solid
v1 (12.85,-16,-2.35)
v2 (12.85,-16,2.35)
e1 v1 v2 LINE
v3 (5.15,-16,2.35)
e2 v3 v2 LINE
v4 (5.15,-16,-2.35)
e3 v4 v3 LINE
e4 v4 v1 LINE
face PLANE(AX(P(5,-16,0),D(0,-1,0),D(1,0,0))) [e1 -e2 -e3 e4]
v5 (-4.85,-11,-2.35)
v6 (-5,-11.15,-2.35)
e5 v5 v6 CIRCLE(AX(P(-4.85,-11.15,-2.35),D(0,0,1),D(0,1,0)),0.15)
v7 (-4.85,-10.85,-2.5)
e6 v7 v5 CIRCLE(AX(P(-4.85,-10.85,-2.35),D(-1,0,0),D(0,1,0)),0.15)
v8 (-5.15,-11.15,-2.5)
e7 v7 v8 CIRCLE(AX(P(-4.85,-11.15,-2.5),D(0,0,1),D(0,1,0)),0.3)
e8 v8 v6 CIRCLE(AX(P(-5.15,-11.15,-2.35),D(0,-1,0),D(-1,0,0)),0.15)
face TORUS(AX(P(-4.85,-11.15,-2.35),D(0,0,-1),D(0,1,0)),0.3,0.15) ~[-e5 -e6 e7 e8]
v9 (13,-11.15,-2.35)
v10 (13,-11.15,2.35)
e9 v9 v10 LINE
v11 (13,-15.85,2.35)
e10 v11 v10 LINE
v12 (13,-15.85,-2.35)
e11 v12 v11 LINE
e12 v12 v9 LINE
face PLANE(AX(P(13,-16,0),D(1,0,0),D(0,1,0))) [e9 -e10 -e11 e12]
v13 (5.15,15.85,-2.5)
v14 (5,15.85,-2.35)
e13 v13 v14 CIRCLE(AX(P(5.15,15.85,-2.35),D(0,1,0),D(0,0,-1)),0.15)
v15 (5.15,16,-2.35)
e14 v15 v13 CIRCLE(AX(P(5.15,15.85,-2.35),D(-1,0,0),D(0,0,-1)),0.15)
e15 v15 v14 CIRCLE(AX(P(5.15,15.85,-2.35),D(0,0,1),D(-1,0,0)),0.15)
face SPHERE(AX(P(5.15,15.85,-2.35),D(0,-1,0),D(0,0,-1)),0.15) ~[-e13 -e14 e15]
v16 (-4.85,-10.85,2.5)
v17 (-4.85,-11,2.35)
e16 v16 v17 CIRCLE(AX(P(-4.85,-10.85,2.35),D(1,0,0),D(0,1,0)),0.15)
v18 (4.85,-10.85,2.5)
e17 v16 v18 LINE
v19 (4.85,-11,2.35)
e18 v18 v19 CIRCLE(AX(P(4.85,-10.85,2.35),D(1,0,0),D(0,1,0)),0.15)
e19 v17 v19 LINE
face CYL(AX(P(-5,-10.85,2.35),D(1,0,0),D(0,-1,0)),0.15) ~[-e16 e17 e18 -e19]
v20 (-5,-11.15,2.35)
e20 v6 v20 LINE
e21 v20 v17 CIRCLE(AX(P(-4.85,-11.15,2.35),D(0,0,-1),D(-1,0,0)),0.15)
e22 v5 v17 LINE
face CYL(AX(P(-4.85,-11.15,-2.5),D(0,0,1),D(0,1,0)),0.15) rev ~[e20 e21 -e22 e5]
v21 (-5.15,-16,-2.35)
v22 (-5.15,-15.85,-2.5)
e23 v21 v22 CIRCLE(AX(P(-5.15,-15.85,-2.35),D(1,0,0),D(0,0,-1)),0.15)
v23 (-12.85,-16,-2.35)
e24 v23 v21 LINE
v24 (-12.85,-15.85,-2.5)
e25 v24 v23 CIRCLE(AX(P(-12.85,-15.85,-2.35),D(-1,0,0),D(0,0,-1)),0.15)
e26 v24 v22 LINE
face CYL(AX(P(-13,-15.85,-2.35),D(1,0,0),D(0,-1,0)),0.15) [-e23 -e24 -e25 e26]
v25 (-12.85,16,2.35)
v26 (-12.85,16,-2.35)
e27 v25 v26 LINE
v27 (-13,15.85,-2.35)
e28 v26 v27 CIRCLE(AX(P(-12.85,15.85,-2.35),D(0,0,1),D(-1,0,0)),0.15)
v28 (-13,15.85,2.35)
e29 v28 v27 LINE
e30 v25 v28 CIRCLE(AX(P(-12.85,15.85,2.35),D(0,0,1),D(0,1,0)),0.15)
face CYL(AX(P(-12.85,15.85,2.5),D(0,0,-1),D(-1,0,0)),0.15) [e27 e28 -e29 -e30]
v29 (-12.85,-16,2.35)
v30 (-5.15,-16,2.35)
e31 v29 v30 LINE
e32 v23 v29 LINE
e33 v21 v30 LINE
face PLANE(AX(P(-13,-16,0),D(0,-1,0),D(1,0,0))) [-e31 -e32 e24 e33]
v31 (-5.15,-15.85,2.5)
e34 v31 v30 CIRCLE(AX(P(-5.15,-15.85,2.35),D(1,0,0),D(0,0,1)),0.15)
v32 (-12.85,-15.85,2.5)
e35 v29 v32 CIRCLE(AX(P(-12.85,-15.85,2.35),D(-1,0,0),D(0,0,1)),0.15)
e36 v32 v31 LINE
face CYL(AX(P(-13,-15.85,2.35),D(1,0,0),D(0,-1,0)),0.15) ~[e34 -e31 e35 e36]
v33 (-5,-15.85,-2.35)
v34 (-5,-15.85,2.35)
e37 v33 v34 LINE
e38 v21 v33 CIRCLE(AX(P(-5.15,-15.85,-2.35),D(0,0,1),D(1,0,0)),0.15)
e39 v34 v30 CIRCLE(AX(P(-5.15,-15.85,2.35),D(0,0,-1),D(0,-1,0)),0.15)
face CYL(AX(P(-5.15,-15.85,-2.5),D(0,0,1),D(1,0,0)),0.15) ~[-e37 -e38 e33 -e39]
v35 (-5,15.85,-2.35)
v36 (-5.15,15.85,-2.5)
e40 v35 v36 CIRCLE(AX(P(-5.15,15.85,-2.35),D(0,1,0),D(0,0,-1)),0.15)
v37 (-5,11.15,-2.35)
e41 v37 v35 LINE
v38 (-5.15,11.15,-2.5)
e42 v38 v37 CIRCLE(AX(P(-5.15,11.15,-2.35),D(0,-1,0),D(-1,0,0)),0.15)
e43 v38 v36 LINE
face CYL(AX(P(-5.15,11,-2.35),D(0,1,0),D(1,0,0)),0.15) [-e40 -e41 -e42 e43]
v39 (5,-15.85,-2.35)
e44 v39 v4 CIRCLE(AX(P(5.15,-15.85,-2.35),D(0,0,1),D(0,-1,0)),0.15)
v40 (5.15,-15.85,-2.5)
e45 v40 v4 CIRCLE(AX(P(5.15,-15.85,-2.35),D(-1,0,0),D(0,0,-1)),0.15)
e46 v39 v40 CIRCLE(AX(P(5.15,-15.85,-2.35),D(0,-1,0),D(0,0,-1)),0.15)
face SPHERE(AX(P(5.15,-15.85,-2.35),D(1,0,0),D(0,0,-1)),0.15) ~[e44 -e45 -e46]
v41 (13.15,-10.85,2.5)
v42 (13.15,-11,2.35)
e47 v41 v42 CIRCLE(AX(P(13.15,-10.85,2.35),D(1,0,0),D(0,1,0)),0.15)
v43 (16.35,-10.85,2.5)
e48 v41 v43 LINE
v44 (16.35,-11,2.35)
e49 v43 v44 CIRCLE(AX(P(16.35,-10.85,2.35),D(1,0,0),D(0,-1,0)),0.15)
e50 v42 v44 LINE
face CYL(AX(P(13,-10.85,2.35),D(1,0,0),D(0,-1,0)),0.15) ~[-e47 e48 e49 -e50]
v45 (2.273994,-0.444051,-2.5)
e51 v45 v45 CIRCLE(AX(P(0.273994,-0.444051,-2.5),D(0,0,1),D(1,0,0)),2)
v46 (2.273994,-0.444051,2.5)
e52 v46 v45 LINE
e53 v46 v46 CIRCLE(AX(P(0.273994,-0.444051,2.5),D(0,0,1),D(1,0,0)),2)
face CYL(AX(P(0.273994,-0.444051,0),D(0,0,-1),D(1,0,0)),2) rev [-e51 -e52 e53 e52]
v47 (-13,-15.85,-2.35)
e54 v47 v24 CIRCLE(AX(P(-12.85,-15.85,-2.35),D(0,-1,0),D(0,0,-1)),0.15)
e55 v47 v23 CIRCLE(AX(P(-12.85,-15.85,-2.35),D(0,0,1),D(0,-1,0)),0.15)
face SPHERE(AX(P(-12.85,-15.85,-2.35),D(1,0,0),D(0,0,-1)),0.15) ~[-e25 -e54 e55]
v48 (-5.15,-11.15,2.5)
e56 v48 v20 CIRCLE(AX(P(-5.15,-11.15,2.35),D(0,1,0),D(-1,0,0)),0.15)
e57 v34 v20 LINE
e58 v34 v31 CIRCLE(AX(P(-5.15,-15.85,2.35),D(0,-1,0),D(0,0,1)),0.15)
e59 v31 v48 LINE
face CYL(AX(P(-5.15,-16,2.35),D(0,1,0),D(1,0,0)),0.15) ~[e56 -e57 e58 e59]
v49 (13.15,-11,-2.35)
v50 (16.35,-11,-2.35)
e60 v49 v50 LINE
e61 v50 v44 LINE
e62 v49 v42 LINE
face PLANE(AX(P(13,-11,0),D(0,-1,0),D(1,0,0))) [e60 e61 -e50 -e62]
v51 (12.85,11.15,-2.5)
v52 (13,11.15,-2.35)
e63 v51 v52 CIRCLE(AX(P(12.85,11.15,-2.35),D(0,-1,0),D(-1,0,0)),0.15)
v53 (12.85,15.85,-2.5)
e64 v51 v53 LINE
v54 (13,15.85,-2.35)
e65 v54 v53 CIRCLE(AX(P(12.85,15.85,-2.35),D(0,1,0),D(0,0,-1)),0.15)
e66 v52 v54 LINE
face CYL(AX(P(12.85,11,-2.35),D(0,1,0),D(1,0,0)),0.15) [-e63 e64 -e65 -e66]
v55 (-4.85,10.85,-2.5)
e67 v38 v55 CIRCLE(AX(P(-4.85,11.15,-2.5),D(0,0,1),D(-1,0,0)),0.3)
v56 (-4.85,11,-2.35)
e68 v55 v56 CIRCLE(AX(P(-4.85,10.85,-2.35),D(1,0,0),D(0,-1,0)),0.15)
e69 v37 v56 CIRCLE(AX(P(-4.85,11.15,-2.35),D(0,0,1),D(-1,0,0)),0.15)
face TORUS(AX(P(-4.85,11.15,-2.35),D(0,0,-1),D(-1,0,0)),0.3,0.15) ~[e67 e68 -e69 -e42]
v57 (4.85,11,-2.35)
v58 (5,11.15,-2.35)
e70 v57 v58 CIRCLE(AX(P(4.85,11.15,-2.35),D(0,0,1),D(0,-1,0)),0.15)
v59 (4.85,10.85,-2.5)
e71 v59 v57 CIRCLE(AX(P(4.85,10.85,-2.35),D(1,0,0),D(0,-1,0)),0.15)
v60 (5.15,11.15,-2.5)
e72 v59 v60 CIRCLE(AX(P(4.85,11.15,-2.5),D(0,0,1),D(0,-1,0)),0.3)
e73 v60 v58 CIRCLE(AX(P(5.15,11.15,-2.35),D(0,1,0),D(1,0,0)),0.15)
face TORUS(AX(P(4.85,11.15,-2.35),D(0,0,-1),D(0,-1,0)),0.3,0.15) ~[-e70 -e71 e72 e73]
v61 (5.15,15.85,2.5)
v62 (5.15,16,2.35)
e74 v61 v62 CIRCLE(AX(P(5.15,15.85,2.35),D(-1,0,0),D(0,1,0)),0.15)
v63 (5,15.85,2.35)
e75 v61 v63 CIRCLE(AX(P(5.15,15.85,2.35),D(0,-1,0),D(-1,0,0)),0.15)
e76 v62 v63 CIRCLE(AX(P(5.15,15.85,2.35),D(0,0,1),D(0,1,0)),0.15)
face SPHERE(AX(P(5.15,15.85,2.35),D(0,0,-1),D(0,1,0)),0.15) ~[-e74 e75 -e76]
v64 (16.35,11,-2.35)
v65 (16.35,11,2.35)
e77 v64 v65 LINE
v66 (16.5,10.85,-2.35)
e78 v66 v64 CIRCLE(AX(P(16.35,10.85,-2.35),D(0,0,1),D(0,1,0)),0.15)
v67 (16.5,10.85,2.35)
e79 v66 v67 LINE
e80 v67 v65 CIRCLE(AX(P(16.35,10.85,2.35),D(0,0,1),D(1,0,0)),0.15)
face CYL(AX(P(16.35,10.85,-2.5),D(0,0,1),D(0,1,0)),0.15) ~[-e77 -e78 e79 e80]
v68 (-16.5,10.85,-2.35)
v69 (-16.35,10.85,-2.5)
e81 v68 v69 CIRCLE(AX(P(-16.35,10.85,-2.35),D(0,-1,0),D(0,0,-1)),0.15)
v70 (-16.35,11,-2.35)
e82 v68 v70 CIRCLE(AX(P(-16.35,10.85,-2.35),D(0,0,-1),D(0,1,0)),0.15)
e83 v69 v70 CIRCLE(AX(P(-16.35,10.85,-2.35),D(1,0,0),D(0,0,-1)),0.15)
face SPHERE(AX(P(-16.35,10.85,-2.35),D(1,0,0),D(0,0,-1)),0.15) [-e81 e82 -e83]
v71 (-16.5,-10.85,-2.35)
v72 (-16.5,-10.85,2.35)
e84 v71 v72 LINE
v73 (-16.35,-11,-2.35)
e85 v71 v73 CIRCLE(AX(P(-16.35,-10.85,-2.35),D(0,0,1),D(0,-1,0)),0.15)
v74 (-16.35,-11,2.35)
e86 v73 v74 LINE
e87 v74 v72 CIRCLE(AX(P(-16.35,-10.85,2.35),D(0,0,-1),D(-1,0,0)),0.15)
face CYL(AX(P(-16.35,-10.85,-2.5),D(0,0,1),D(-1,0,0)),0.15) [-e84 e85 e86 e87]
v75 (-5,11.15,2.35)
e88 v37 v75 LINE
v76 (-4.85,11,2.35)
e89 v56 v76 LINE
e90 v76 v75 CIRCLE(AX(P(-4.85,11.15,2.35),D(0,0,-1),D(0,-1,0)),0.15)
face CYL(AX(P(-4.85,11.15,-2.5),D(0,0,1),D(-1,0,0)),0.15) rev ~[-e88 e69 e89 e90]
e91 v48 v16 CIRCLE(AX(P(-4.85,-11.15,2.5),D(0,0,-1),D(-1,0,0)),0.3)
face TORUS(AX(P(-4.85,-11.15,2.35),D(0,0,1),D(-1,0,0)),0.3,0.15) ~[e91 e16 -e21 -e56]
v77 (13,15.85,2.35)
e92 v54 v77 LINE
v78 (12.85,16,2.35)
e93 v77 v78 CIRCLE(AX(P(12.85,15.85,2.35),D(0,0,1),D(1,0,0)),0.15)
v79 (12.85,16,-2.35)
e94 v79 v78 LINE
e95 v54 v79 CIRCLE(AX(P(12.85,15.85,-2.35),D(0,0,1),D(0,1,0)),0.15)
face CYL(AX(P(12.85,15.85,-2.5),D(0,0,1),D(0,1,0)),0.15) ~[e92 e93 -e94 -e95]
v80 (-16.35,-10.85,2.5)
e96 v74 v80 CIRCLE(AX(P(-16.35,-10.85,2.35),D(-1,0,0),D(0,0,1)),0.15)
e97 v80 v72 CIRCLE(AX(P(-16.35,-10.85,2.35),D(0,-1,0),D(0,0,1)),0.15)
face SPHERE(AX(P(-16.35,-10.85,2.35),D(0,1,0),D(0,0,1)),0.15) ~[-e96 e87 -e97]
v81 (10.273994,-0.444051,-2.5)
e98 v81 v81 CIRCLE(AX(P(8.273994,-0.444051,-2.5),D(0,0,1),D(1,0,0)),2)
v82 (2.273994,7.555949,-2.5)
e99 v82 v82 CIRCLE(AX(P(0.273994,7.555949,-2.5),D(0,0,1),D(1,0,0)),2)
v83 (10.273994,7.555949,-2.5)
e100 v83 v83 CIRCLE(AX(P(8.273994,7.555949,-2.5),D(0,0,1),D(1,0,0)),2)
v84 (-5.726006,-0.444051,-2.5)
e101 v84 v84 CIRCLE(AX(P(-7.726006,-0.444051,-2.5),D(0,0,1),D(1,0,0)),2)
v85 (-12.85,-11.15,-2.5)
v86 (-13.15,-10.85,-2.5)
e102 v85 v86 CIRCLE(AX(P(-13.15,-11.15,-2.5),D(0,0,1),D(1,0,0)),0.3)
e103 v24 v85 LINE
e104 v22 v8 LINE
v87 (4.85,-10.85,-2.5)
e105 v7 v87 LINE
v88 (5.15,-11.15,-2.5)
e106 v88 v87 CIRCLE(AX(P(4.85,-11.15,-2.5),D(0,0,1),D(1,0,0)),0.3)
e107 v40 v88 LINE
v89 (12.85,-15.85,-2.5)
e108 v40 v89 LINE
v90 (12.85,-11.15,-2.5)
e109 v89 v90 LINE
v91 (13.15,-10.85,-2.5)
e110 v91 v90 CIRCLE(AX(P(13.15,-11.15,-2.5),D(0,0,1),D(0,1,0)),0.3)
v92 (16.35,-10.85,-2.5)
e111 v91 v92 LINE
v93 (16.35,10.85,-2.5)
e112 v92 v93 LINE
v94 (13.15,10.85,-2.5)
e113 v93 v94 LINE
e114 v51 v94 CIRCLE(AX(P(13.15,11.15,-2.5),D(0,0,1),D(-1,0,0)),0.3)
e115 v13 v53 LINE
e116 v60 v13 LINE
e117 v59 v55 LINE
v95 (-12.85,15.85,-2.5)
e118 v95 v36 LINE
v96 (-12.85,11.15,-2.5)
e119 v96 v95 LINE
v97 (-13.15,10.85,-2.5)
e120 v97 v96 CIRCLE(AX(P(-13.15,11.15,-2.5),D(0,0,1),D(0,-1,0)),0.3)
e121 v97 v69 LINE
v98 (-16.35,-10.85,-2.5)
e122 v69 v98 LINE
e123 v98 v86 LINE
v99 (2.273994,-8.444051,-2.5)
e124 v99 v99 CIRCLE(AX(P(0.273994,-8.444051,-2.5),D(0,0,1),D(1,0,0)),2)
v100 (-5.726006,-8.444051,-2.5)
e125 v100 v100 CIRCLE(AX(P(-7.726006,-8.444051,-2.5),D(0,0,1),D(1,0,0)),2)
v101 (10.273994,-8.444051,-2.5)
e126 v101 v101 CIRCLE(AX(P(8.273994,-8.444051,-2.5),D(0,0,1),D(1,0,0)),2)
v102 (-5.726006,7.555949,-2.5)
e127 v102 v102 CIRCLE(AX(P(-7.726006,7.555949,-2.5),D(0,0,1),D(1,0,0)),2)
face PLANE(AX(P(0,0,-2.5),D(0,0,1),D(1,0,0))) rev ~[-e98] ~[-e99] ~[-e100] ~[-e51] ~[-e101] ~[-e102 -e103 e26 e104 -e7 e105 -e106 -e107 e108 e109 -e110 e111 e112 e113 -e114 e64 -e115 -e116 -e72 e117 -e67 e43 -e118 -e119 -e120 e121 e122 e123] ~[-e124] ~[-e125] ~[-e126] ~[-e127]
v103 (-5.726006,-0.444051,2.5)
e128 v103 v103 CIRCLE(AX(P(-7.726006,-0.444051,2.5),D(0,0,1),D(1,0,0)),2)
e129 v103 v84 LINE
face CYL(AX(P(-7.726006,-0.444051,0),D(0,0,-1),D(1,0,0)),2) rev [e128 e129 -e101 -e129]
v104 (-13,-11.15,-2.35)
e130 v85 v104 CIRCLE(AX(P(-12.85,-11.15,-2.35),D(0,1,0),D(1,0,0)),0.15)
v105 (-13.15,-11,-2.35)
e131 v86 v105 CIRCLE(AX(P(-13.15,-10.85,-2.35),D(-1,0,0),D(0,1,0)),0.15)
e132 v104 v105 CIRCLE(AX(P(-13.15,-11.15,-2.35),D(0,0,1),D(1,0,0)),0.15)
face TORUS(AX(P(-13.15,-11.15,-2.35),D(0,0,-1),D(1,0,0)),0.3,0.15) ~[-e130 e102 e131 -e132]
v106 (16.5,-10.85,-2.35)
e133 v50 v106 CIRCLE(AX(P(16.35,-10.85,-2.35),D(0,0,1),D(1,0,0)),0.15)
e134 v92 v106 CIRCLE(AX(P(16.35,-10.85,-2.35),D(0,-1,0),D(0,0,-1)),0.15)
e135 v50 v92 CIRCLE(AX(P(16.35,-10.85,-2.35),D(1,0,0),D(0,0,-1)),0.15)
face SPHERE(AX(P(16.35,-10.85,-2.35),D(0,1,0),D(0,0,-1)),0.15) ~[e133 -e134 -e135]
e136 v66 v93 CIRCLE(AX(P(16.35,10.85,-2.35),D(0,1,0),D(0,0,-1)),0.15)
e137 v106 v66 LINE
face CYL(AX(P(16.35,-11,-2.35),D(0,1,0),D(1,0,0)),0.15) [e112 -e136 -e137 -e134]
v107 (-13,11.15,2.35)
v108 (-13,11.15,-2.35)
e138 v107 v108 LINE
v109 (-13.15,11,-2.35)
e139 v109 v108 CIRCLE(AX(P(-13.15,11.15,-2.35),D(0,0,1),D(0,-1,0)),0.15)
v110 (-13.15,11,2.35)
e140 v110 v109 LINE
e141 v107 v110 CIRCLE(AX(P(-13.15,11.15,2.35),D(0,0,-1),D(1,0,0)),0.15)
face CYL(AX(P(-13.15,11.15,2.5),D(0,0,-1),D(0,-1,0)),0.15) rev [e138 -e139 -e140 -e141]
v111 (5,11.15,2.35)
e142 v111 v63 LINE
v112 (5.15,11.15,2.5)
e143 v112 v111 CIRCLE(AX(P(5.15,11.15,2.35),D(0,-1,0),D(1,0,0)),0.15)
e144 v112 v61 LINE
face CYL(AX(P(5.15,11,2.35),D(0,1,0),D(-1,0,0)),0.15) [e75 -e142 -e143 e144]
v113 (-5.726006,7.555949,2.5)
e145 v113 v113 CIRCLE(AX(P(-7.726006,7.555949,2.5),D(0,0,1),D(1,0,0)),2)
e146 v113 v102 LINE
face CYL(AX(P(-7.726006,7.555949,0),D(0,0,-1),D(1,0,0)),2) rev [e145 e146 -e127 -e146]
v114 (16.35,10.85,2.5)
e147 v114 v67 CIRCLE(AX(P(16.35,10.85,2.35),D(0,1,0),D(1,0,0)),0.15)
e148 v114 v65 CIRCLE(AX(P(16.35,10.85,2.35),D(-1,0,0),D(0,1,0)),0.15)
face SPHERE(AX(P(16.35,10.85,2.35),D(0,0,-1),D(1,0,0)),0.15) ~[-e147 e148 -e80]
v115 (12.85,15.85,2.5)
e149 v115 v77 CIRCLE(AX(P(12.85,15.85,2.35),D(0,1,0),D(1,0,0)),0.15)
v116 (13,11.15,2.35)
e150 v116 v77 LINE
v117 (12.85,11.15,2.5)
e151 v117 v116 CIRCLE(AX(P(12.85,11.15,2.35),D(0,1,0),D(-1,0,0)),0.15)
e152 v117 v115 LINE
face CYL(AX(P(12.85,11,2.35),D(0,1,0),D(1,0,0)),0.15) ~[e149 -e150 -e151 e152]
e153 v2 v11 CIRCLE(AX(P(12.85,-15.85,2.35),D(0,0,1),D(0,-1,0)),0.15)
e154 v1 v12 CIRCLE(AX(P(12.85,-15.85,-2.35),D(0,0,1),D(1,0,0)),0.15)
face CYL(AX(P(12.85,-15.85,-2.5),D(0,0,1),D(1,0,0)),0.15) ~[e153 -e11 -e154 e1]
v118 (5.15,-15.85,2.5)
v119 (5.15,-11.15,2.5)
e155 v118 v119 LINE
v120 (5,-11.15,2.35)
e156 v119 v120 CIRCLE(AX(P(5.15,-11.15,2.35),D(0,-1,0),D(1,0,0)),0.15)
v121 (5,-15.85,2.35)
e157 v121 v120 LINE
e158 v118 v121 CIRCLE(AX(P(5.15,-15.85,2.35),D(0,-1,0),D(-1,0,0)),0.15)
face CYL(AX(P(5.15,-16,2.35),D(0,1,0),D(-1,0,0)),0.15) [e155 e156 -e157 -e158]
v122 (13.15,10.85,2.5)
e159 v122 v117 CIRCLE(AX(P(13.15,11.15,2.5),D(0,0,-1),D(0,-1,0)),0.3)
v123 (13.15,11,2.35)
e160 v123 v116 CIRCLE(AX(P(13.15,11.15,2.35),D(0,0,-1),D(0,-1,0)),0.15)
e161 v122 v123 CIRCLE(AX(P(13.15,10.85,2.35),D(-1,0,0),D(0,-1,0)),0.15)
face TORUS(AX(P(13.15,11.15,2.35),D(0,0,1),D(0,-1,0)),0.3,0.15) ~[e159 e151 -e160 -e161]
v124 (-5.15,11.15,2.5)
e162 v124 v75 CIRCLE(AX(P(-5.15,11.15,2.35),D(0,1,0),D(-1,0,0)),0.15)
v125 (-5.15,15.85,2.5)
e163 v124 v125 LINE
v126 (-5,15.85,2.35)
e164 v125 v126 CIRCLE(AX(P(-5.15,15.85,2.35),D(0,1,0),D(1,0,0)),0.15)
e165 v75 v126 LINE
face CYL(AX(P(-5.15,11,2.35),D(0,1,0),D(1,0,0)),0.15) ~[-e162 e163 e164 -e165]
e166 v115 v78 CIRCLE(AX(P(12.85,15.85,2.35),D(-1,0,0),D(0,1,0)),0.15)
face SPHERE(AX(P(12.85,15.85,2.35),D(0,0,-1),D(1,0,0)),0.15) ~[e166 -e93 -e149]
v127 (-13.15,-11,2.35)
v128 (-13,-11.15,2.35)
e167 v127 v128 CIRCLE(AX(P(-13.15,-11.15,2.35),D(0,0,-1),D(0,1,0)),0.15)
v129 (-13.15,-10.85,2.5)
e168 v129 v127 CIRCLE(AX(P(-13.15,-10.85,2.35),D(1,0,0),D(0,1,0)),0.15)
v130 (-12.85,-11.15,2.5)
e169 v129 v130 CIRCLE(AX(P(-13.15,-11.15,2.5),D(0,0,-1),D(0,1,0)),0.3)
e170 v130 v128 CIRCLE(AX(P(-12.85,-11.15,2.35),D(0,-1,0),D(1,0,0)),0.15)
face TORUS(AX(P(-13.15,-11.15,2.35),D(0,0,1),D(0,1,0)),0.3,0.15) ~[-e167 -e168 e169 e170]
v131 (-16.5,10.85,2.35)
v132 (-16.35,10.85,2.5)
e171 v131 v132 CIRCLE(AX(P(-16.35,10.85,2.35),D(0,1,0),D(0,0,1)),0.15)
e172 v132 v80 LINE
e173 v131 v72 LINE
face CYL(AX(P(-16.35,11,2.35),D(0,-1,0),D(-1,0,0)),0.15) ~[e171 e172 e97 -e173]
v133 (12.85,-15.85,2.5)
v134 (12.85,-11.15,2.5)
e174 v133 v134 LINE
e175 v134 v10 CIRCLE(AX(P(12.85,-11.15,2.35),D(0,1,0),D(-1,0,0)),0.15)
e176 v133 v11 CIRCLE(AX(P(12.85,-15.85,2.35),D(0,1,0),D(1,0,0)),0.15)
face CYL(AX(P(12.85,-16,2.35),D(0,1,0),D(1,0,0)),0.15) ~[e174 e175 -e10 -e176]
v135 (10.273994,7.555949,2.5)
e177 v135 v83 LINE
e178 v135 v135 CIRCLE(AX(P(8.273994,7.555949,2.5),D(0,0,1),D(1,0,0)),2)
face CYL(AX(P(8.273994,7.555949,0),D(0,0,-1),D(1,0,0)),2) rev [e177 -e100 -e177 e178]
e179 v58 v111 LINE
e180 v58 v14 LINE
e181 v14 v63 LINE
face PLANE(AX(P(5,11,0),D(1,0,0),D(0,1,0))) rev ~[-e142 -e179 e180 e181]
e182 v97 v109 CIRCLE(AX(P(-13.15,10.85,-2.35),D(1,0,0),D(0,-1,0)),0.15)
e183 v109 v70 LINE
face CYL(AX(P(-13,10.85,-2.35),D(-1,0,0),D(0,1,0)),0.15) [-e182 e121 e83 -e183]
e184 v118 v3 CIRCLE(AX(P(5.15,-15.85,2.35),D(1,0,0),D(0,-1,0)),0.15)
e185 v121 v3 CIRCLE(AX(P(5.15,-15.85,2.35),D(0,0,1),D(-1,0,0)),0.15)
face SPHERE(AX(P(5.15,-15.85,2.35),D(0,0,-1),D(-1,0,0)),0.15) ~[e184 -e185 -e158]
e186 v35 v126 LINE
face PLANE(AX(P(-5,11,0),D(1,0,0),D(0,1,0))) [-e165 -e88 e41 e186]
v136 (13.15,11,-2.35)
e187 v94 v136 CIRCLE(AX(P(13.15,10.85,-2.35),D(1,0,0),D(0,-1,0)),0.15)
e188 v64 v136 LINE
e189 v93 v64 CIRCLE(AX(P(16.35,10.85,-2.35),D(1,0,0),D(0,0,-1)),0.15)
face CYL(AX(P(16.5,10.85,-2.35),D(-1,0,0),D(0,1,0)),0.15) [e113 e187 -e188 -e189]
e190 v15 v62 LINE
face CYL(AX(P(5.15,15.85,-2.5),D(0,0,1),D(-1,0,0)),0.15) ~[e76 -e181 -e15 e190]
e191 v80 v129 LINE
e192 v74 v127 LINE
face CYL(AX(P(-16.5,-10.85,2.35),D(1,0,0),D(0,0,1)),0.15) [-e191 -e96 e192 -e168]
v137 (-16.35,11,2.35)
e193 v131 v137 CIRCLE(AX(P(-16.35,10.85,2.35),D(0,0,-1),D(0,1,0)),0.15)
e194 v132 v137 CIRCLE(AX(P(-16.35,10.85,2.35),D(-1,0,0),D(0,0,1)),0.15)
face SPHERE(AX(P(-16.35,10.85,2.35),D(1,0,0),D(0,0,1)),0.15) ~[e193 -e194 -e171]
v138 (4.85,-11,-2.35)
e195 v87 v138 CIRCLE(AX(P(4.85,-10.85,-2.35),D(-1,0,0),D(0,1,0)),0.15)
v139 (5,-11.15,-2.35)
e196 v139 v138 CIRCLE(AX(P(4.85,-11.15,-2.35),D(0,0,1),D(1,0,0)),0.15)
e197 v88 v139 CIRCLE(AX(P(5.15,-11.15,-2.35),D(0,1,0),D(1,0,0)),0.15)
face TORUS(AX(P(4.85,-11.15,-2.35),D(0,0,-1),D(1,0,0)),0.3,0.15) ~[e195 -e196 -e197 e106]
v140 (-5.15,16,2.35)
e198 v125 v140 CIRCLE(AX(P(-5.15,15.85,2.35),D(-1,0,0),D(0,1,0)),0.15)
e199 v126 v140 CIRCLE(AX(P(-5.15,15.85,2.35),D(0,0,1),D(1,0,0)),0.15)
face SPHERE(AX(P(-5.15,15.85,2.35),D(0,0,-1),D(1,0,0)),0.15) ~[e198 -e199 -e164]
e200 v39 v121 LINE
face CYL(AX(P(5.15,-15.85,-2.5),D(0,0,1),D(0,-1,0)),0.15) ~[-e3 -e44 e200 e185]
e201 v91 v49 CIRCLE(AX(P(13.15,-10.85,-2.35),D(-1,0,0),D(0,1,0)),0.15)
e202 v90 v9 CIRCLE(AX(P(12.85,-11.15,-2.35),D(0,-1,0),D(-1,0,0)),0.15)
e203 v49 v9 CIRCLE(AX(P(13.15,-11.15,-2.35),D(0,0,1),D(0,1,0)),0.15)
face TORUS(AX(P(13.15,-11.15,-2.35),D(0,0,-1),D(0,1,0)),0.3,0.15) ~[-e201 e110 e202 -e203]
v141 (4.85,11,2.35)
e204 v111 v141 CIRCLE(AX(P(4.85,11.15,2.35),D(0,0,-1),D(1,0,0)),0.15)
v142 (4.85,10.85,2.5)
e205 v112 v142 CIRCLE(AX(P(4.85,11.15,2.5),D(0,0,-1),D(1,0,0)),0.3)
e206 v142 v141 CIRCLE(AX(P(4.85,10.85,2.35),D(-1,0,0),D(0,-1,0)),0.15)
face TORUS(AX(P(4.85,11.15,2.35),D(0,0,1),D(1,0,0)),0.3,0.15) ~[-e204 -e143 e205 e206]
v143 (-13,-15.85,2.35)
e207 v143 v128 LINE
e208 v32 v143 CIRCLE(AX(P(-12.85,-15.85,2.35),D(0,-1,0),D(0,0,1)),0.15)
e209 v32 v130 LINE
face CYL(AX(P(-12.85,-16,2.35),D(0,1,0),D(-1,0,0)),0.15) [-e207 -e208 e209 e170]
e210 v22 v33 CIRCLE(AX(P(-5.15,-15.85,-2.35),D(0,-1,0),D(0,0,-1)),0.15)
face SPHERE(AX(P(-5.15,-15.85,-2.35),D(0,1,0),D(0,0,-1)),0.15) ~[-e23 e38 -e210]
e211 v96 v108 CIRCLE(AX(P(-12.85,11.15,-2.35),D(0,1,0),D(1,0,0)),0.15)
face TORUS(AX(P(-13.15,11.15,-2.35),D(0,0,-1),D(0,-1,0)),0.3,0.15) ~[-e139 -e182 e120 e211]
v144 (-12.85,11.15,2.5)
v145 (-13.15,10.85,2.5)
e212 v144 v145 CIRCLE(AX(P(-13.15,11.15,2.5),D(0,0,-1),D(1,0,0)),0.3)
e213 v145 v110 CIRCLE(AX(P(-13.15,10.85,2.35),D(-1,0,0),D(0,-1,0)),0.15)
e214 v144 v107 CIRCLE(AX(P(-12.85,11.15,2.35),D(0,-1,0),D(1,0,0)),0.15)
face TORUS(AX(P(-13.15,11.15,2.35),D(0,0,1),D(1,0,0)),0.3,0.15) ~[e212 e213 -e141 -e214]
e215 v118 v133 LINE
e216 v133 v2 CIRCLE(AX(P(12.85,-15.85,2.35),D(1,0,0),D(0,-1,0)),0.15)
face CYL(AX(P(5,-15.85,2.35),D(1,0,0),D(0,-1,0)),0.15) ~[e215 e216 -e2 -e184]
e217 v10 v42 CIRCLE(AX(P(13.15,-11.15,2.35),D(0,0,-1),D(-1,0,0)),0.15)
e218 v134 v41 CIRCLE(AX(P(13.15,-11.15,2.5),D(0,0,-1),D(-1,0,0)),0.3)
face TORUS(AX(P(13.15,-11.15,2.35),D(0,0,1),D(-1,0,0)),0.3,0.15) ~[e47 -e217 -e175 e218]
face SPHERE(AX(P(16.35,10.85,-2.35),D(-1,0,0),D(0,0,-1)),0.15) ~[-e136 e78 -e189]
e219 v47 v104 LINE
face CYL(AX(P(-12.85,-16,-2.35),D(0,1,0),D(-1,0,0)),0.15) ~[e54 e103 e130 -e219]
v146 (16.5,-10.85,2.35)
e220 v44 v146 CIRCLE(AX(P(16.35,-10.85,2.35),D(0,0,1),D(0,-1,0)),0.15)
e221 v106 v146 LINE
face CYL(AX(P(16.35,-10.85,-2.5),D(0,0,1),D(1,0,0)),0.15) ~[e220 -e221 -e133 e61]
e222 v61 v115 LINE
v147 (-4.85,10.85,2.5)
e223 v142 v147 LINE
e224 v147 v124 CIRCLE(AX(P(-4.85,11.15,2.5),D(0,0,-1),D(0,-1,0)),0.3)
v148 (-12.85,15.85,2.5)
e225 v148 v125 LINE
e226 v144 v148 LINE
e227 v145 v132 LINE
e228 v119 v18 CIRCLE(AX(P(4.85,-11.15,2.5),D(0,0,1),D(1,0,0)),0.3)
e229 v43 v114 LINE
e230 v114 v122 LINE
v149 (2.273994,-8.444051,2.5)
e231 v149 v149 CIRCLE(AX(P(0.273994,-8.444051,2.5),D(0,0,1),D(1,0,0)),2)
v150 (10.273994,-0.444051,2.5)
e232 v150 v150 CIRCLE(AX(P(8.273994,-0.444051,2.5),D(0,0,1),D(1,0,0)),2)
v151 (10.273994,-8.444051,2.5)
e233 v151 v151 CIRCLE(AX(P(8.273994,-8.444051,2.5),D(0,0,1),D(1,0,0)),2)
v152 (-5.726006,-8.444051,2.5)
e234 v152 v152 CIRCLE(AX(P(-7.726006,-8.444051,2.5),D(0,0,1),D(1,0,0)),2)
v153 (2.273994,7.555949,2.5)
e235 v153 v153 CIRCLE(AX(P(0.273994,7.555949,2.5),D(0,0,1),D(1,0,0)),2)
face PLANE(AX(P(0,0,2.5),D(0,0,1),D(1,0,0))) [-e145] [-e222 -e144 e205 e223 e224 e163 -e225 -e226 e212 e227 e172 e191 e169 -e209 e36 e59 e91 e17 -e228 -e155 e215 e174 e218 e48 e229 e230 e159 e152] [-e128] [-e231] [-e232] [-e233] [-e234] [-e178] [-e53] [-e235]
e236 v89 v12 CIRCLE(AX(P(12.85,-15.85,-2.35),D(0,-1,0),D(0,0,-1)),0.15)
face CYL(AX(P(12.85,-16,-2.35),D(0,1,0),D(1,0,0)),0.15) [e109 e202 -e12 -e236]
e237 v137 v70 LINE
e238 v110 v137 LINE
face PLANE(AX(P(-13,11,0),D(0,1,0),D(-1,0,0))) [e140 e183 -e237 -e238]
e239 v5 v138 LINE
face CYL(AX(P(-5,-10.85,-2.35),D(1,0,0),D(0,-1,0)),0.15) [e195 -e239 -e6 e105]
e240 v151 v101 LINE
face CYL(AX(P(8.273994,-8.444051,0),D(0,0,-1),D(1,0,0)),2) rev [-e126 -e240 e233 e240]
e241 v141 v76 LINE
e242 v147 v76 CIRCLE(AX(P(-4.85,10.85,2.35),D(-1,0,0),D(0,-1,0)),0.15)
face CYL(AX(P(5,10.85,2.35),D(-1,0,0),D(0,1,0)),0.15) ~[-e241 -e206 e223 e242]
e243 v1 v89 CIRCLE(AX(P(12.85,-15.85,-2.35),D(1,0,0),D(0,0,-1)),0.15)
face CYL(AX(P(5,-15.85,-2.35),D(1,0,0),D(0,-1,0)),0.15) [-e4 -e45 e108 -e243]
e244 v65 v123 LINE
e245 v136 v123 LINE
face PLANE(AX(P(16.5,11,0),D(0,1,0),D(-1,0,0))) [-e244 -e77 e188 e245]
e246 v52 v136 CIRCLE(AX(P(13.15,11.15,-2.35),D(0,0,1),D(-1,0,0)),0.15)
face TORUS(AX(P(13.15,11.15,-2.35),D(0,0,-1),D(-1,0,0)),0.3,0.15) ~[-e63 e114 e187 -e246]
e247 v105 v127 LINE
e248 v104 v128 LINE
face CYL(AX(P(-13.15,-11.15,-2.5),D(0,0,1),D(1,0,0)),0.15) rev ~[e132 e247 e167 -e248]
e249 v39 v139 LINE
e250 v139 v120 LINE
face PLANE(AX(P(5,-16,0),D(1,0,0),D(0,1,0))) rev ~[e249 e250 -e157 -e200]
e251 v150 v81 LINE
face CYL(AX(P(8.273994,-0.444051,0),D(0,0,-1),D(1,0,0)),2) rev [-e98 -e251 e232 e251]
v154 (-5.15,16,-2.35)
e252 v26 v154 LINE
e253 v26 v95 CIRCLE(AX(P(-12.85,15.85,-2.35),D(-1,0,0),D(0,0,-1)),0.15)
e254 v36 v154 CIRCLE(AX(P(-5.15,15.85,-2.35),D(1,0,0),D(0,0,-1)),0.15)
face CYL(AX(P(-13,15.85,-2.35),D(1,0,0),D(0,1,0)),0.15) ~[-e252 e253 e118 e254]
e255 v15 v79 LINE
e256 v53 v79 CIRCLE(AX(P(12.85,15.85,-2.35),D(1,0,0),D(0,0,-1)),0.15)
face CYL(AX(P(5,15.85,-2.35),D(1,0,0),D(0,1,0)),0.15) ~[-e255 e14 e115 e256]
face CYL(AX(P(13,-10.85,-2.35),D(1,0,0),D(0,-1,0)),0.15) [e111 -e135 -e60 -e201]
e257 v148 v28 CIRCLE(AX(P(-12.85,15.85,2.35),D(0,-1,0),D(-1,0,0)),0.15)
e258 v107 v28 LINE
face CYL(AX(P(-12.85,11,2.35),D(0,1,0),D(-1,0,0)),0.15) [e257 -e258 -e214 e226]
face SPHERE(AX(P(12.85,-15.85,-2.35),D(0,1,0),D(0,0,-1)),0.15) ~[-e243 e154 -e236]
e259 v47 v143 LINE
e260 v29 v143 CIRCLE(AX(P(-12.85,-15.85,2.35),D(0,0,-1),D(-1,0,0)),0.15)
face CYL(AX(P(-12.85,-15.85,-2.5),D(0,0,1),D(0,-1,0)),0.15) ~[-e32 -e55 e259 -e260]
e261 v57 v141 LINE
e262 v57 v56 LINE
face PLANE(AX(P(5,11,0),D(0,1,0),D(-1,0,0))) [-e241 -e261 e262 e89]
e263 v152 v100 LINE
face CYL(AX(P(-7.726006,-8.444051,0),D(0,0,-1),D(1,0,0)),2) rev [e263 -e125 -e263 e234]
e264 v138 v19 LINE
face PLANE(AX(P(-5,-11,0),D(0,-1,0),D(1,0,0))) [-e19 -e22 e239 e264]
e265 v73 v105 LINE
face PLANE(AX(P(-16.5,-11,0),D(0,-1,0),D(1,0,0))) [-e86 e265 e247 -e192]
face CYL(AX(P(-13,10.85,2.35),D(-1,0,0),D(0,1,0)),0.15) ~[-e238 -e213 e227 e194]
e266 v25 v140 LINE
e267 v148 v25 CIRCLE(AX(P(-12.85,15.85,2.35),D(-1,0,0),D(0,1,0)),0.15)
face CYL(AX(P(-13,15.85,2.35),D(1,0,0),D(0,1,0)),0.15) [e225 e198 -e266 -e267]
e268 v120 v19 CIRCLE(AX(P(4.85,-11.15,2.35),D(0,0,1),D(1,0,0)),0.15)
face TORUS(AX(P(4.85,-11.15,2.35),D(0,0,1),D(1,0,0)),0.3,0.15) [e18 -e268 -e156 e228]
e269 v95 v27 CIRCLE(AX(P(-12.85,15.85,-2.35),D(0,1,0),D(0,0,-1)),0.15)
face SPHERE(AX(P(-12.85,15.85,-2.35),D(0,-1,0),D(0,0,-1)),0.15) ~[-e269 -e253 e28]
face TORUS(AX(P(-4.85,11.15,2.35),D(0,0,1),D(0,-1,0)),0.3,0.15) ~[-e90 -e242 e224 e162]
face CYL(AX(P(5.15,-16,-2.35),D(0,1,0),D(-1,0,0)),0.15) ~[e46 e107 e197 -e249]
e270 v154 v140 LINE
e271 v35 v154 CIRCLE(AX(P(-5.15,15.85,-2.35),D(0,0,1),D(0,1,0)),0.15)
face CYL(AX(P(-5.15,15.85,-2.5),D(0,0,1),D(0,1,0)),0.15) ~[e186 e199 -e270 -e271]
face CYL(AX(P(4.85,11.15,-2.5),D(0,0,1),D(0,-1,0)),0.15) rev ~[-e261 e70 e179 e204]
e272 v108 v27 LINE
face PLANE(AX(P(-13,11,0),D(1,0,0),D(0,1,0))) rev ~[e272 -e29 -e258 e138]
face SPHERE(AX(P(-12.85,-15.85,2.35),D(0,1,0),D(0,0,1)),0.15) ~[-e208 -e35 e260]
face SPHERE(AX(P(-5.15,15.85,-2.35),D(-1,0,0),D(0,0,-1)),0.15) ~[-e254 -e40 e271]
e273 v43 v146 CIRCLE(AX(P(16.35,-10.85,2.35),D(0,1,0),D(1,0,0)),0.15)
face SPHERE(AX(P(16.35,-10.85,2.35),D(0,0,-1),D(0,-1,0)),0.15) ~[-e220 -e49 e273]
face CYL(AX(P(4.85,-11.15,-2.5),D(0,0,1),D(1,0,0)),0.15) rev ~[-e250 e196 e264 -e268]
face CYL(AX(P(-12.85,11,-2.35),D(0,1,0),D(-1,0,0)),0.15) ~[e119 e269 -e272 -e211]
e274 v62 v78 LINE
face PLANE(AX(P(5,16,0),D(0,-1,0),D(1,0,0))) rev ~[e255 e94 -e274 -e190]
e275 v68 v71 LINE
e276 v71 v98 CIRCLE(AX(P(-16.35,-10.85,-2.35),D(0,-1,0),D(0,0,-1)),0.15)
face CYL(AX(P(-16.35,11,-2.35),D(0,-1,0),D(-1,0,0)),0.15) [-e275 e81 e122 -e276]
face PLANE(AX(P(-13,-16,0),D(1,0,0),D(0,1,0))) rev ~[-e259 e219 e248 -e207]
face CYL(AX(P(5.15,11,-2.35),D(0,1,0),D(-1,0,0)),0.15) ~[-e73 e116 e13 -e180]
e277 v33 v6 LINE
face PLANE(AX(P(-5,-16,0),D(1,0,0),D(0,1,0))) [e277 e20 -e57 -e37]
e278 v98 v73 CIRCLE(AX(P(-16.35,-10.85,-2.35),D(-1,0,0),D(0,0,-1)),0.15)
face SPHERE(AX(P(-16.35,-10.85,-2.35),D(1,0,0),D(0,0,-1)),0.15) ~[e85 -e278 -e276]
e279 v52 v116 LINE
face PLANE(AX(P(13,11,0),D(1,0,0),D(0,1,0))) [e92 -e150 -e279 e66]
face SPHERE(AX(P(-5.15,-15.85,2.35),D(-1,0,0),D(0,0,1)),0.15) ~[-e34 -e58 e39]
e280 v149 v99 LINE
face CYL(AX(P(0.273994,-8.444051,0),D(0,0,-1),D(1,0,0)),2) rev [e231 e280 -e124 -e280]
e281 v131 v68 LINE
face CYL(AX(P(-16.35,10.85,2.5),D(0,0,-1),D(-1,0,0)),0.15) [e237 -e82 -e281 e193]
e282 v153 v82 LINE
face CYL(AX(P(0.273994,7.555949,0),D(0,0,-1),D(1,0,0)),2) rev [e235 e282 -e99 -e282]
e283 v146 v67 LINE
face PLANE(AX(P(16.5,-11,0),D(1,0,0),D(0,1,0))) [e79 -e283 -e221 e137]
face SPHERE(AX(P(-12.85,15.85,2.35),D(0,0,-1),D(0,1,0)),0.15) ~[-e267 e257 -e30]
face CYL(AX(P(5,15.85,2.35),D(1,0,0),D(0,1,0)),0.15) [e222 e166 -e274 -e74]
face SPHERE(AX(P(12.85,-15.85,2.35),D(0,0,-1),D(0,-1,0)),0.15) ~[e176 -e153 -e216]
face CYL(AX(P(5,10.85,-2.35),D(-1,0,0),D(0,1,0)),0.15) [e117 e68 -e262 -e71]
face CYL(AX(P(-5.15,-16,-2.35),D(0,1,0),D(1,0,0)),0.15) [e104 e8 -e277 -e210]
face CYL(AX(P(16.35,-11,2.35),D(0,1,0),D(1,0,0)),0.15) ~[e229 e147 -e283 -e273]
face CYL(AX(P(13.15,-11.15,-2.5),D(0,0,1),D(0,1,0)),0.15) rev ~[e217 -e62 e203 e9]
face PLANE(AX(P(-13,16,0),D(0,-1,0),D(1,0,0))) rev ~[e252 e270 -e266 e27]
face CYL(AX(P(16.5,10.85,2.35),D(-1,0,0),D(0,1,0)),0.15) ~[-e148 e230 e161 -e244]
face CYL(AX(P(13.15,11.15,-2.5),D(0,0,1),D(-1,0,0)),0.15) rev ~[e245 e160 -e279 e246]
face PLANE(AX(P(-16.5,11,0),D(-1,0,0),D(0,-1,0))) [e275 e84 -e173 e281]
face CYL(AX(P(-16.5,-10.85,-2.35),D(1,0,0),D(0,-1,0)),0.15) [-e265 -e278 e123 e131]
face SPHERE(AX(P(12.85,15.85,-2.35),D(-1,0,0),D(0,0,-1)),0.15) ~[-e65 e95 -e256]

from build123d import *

# Parameters (mm, degrees)
SZKIC1_R                    = 2
SZKIC1_W                    = 8
SZKIC1_H                    = 5
DODANIE_WYCI_GNI_CIE1_DEPTH = 2.5
ZAOKR_GLENIE1_R             = 0.15


with BuildPart() as part:
    # Szkic1 → Dodanie-wyciągnięcie1 (new body, symmetric)
    with BuildSketch(Plane.XY):
        Polygon((-13, 11), (-16.5, 11), (-16.5, -11), (-13, -11), (-5, -11), (5, -11), (13, -11), (16.5, -11), (16.5, 11), (13, 11), (5, 11), (-5, 11), align=None)
        with Locations((-7.726006327, -8.444050887)):
            Circle(SZKIC1_R, mode=Mode.SUBTRACT)
        with Locations((-7.726006327, -0.444050887)):
            Circle(SZKIC1_R, mode=Mode.SUBTRACT)
        with Locations((0.273993673, -8.444050887)):
            Circle(SZKIC1_R, mode=Mode.SUBTRACT)
        with Locations((8.273993673, -8.444050887)):
            Circle(SZKIC1_R, mode=Mode.SUBTRACT)
        with Locations((0.273993673, -0.444050887)):
            Circle(SZKIC1_R, mode=Mode.SUBTRACT)
        with Locations((8.273993673, -0.444050887)):
            Circle(SZKIC1_R, mode=Mode.SUBTRACT)
        with Locations((-7.726006327, 7.555949113)):
            Circle(SZKIC1_R, mode=Mode.SUBTRACT)
        with Locations((0.273993673, 7.555949113)):
            Circle(SZKIC1_R, mode=Mode.SUBTRACT)
        with Locations((8.273993673, 7.555949113)):
            Circle(SZKIC1_R, mode=Mode.SUBTRACT)
        with Locations((-9, -13.5)):
            Rectangle(SZKIC1_W, SZKIC1_H)
        with Locations((9, -13.5)):
            Rectangle(SZKIC1_W, SZKIC1_H)
        with Locations((9, 13.5)):
            Rectangle(SZKIC1_W, SZKIC1_H)
        with Locations((-9, 13.5)):
            Rectangle(SZKIC1_W, SZKIC1_H)
    extrude(amount=DODANIE_WYCI_GNI_CIE1_DEPTH, both=True)

    # Zaokrąglenie1
    zaokr_glenie1_edges = [part.edges().sort_by_distance(p)[0] for p in [
        (-14.75, 11, 2.5),
        (-16.5, 0, 2.5),
        (-14.75, 11, -2.5),
        (-13, 13.5, -2.5),
        (-9, 16, -2.5),
        (-14.75, -11, 2.5),
        (-5, 13.5, -2.5),
        (0, 11, -2.5),
        (5, 13.5, -2.5),
        (9, 16, -2.5),
        (13, 13.5, -2.5),
        (14.75, 11, -2.5),
        (16.5, 0, -2.5),
        (14.75, -11, -2.5),
        (-13, -13.5, 2.5),
        (13, -13.5, -2.5),
        (9, -16, -2.5),
        (5, -13.5, -2.5),
        (0, -11, -2.5),
        (-5, -13.5, -2.5),
        (-9, -16, -2.5),
        (-13, -13.5, -2.5),
        (-14.75, -11, -2.5),
        (-9, -16, 2.5),
        (-16.5, 0, -2.5),
        (-5, -13.5, 2.5),
        (0, -11, 2.5),
        (-16.5, 11, 0),
        (-13, 11, 0),
        (-13, 16, 0),
        (-5, 16, 0),
        (-5, 11, 0),
        (5, 11, 0),
        (5, 16, 0),
        (13, 16, 0),
        (13, 11, 0),
        (16.5, 11, 0),
        (16.5, -11, 0),
        (13, -11, 0),
        (13, -16, 0),
        (5, -16, 0),
        (5, -11, 0),
        (-5, -11, 0),
        (-5, -16, 0),
        (-13, -16, 0),
        (-13, -11, 0),
        (5, -13.5, 2.5),
        (-16.5, -11, 0),
        (9, -16, 2.5),
        (13, -13.5, 2.5),
        (14.75, -11, 2.5),
        (16.5, 0, 2.5),
        (14.75, 11, 2.5),
        (13, 13.5, 2.5),
        (9, 16, 2.5),
        (5, 13.5, 2.5),
        (0, 11, 2.5),
        (-5, 13.5, 2.5),
        (-9, 16, 2.5),
        (-13, 13.5, 2.5),
    ]]
    fillet(zaokr_glenie1_edges, radius=ZAOKR_GLENIE1_R)


solid = part.part
